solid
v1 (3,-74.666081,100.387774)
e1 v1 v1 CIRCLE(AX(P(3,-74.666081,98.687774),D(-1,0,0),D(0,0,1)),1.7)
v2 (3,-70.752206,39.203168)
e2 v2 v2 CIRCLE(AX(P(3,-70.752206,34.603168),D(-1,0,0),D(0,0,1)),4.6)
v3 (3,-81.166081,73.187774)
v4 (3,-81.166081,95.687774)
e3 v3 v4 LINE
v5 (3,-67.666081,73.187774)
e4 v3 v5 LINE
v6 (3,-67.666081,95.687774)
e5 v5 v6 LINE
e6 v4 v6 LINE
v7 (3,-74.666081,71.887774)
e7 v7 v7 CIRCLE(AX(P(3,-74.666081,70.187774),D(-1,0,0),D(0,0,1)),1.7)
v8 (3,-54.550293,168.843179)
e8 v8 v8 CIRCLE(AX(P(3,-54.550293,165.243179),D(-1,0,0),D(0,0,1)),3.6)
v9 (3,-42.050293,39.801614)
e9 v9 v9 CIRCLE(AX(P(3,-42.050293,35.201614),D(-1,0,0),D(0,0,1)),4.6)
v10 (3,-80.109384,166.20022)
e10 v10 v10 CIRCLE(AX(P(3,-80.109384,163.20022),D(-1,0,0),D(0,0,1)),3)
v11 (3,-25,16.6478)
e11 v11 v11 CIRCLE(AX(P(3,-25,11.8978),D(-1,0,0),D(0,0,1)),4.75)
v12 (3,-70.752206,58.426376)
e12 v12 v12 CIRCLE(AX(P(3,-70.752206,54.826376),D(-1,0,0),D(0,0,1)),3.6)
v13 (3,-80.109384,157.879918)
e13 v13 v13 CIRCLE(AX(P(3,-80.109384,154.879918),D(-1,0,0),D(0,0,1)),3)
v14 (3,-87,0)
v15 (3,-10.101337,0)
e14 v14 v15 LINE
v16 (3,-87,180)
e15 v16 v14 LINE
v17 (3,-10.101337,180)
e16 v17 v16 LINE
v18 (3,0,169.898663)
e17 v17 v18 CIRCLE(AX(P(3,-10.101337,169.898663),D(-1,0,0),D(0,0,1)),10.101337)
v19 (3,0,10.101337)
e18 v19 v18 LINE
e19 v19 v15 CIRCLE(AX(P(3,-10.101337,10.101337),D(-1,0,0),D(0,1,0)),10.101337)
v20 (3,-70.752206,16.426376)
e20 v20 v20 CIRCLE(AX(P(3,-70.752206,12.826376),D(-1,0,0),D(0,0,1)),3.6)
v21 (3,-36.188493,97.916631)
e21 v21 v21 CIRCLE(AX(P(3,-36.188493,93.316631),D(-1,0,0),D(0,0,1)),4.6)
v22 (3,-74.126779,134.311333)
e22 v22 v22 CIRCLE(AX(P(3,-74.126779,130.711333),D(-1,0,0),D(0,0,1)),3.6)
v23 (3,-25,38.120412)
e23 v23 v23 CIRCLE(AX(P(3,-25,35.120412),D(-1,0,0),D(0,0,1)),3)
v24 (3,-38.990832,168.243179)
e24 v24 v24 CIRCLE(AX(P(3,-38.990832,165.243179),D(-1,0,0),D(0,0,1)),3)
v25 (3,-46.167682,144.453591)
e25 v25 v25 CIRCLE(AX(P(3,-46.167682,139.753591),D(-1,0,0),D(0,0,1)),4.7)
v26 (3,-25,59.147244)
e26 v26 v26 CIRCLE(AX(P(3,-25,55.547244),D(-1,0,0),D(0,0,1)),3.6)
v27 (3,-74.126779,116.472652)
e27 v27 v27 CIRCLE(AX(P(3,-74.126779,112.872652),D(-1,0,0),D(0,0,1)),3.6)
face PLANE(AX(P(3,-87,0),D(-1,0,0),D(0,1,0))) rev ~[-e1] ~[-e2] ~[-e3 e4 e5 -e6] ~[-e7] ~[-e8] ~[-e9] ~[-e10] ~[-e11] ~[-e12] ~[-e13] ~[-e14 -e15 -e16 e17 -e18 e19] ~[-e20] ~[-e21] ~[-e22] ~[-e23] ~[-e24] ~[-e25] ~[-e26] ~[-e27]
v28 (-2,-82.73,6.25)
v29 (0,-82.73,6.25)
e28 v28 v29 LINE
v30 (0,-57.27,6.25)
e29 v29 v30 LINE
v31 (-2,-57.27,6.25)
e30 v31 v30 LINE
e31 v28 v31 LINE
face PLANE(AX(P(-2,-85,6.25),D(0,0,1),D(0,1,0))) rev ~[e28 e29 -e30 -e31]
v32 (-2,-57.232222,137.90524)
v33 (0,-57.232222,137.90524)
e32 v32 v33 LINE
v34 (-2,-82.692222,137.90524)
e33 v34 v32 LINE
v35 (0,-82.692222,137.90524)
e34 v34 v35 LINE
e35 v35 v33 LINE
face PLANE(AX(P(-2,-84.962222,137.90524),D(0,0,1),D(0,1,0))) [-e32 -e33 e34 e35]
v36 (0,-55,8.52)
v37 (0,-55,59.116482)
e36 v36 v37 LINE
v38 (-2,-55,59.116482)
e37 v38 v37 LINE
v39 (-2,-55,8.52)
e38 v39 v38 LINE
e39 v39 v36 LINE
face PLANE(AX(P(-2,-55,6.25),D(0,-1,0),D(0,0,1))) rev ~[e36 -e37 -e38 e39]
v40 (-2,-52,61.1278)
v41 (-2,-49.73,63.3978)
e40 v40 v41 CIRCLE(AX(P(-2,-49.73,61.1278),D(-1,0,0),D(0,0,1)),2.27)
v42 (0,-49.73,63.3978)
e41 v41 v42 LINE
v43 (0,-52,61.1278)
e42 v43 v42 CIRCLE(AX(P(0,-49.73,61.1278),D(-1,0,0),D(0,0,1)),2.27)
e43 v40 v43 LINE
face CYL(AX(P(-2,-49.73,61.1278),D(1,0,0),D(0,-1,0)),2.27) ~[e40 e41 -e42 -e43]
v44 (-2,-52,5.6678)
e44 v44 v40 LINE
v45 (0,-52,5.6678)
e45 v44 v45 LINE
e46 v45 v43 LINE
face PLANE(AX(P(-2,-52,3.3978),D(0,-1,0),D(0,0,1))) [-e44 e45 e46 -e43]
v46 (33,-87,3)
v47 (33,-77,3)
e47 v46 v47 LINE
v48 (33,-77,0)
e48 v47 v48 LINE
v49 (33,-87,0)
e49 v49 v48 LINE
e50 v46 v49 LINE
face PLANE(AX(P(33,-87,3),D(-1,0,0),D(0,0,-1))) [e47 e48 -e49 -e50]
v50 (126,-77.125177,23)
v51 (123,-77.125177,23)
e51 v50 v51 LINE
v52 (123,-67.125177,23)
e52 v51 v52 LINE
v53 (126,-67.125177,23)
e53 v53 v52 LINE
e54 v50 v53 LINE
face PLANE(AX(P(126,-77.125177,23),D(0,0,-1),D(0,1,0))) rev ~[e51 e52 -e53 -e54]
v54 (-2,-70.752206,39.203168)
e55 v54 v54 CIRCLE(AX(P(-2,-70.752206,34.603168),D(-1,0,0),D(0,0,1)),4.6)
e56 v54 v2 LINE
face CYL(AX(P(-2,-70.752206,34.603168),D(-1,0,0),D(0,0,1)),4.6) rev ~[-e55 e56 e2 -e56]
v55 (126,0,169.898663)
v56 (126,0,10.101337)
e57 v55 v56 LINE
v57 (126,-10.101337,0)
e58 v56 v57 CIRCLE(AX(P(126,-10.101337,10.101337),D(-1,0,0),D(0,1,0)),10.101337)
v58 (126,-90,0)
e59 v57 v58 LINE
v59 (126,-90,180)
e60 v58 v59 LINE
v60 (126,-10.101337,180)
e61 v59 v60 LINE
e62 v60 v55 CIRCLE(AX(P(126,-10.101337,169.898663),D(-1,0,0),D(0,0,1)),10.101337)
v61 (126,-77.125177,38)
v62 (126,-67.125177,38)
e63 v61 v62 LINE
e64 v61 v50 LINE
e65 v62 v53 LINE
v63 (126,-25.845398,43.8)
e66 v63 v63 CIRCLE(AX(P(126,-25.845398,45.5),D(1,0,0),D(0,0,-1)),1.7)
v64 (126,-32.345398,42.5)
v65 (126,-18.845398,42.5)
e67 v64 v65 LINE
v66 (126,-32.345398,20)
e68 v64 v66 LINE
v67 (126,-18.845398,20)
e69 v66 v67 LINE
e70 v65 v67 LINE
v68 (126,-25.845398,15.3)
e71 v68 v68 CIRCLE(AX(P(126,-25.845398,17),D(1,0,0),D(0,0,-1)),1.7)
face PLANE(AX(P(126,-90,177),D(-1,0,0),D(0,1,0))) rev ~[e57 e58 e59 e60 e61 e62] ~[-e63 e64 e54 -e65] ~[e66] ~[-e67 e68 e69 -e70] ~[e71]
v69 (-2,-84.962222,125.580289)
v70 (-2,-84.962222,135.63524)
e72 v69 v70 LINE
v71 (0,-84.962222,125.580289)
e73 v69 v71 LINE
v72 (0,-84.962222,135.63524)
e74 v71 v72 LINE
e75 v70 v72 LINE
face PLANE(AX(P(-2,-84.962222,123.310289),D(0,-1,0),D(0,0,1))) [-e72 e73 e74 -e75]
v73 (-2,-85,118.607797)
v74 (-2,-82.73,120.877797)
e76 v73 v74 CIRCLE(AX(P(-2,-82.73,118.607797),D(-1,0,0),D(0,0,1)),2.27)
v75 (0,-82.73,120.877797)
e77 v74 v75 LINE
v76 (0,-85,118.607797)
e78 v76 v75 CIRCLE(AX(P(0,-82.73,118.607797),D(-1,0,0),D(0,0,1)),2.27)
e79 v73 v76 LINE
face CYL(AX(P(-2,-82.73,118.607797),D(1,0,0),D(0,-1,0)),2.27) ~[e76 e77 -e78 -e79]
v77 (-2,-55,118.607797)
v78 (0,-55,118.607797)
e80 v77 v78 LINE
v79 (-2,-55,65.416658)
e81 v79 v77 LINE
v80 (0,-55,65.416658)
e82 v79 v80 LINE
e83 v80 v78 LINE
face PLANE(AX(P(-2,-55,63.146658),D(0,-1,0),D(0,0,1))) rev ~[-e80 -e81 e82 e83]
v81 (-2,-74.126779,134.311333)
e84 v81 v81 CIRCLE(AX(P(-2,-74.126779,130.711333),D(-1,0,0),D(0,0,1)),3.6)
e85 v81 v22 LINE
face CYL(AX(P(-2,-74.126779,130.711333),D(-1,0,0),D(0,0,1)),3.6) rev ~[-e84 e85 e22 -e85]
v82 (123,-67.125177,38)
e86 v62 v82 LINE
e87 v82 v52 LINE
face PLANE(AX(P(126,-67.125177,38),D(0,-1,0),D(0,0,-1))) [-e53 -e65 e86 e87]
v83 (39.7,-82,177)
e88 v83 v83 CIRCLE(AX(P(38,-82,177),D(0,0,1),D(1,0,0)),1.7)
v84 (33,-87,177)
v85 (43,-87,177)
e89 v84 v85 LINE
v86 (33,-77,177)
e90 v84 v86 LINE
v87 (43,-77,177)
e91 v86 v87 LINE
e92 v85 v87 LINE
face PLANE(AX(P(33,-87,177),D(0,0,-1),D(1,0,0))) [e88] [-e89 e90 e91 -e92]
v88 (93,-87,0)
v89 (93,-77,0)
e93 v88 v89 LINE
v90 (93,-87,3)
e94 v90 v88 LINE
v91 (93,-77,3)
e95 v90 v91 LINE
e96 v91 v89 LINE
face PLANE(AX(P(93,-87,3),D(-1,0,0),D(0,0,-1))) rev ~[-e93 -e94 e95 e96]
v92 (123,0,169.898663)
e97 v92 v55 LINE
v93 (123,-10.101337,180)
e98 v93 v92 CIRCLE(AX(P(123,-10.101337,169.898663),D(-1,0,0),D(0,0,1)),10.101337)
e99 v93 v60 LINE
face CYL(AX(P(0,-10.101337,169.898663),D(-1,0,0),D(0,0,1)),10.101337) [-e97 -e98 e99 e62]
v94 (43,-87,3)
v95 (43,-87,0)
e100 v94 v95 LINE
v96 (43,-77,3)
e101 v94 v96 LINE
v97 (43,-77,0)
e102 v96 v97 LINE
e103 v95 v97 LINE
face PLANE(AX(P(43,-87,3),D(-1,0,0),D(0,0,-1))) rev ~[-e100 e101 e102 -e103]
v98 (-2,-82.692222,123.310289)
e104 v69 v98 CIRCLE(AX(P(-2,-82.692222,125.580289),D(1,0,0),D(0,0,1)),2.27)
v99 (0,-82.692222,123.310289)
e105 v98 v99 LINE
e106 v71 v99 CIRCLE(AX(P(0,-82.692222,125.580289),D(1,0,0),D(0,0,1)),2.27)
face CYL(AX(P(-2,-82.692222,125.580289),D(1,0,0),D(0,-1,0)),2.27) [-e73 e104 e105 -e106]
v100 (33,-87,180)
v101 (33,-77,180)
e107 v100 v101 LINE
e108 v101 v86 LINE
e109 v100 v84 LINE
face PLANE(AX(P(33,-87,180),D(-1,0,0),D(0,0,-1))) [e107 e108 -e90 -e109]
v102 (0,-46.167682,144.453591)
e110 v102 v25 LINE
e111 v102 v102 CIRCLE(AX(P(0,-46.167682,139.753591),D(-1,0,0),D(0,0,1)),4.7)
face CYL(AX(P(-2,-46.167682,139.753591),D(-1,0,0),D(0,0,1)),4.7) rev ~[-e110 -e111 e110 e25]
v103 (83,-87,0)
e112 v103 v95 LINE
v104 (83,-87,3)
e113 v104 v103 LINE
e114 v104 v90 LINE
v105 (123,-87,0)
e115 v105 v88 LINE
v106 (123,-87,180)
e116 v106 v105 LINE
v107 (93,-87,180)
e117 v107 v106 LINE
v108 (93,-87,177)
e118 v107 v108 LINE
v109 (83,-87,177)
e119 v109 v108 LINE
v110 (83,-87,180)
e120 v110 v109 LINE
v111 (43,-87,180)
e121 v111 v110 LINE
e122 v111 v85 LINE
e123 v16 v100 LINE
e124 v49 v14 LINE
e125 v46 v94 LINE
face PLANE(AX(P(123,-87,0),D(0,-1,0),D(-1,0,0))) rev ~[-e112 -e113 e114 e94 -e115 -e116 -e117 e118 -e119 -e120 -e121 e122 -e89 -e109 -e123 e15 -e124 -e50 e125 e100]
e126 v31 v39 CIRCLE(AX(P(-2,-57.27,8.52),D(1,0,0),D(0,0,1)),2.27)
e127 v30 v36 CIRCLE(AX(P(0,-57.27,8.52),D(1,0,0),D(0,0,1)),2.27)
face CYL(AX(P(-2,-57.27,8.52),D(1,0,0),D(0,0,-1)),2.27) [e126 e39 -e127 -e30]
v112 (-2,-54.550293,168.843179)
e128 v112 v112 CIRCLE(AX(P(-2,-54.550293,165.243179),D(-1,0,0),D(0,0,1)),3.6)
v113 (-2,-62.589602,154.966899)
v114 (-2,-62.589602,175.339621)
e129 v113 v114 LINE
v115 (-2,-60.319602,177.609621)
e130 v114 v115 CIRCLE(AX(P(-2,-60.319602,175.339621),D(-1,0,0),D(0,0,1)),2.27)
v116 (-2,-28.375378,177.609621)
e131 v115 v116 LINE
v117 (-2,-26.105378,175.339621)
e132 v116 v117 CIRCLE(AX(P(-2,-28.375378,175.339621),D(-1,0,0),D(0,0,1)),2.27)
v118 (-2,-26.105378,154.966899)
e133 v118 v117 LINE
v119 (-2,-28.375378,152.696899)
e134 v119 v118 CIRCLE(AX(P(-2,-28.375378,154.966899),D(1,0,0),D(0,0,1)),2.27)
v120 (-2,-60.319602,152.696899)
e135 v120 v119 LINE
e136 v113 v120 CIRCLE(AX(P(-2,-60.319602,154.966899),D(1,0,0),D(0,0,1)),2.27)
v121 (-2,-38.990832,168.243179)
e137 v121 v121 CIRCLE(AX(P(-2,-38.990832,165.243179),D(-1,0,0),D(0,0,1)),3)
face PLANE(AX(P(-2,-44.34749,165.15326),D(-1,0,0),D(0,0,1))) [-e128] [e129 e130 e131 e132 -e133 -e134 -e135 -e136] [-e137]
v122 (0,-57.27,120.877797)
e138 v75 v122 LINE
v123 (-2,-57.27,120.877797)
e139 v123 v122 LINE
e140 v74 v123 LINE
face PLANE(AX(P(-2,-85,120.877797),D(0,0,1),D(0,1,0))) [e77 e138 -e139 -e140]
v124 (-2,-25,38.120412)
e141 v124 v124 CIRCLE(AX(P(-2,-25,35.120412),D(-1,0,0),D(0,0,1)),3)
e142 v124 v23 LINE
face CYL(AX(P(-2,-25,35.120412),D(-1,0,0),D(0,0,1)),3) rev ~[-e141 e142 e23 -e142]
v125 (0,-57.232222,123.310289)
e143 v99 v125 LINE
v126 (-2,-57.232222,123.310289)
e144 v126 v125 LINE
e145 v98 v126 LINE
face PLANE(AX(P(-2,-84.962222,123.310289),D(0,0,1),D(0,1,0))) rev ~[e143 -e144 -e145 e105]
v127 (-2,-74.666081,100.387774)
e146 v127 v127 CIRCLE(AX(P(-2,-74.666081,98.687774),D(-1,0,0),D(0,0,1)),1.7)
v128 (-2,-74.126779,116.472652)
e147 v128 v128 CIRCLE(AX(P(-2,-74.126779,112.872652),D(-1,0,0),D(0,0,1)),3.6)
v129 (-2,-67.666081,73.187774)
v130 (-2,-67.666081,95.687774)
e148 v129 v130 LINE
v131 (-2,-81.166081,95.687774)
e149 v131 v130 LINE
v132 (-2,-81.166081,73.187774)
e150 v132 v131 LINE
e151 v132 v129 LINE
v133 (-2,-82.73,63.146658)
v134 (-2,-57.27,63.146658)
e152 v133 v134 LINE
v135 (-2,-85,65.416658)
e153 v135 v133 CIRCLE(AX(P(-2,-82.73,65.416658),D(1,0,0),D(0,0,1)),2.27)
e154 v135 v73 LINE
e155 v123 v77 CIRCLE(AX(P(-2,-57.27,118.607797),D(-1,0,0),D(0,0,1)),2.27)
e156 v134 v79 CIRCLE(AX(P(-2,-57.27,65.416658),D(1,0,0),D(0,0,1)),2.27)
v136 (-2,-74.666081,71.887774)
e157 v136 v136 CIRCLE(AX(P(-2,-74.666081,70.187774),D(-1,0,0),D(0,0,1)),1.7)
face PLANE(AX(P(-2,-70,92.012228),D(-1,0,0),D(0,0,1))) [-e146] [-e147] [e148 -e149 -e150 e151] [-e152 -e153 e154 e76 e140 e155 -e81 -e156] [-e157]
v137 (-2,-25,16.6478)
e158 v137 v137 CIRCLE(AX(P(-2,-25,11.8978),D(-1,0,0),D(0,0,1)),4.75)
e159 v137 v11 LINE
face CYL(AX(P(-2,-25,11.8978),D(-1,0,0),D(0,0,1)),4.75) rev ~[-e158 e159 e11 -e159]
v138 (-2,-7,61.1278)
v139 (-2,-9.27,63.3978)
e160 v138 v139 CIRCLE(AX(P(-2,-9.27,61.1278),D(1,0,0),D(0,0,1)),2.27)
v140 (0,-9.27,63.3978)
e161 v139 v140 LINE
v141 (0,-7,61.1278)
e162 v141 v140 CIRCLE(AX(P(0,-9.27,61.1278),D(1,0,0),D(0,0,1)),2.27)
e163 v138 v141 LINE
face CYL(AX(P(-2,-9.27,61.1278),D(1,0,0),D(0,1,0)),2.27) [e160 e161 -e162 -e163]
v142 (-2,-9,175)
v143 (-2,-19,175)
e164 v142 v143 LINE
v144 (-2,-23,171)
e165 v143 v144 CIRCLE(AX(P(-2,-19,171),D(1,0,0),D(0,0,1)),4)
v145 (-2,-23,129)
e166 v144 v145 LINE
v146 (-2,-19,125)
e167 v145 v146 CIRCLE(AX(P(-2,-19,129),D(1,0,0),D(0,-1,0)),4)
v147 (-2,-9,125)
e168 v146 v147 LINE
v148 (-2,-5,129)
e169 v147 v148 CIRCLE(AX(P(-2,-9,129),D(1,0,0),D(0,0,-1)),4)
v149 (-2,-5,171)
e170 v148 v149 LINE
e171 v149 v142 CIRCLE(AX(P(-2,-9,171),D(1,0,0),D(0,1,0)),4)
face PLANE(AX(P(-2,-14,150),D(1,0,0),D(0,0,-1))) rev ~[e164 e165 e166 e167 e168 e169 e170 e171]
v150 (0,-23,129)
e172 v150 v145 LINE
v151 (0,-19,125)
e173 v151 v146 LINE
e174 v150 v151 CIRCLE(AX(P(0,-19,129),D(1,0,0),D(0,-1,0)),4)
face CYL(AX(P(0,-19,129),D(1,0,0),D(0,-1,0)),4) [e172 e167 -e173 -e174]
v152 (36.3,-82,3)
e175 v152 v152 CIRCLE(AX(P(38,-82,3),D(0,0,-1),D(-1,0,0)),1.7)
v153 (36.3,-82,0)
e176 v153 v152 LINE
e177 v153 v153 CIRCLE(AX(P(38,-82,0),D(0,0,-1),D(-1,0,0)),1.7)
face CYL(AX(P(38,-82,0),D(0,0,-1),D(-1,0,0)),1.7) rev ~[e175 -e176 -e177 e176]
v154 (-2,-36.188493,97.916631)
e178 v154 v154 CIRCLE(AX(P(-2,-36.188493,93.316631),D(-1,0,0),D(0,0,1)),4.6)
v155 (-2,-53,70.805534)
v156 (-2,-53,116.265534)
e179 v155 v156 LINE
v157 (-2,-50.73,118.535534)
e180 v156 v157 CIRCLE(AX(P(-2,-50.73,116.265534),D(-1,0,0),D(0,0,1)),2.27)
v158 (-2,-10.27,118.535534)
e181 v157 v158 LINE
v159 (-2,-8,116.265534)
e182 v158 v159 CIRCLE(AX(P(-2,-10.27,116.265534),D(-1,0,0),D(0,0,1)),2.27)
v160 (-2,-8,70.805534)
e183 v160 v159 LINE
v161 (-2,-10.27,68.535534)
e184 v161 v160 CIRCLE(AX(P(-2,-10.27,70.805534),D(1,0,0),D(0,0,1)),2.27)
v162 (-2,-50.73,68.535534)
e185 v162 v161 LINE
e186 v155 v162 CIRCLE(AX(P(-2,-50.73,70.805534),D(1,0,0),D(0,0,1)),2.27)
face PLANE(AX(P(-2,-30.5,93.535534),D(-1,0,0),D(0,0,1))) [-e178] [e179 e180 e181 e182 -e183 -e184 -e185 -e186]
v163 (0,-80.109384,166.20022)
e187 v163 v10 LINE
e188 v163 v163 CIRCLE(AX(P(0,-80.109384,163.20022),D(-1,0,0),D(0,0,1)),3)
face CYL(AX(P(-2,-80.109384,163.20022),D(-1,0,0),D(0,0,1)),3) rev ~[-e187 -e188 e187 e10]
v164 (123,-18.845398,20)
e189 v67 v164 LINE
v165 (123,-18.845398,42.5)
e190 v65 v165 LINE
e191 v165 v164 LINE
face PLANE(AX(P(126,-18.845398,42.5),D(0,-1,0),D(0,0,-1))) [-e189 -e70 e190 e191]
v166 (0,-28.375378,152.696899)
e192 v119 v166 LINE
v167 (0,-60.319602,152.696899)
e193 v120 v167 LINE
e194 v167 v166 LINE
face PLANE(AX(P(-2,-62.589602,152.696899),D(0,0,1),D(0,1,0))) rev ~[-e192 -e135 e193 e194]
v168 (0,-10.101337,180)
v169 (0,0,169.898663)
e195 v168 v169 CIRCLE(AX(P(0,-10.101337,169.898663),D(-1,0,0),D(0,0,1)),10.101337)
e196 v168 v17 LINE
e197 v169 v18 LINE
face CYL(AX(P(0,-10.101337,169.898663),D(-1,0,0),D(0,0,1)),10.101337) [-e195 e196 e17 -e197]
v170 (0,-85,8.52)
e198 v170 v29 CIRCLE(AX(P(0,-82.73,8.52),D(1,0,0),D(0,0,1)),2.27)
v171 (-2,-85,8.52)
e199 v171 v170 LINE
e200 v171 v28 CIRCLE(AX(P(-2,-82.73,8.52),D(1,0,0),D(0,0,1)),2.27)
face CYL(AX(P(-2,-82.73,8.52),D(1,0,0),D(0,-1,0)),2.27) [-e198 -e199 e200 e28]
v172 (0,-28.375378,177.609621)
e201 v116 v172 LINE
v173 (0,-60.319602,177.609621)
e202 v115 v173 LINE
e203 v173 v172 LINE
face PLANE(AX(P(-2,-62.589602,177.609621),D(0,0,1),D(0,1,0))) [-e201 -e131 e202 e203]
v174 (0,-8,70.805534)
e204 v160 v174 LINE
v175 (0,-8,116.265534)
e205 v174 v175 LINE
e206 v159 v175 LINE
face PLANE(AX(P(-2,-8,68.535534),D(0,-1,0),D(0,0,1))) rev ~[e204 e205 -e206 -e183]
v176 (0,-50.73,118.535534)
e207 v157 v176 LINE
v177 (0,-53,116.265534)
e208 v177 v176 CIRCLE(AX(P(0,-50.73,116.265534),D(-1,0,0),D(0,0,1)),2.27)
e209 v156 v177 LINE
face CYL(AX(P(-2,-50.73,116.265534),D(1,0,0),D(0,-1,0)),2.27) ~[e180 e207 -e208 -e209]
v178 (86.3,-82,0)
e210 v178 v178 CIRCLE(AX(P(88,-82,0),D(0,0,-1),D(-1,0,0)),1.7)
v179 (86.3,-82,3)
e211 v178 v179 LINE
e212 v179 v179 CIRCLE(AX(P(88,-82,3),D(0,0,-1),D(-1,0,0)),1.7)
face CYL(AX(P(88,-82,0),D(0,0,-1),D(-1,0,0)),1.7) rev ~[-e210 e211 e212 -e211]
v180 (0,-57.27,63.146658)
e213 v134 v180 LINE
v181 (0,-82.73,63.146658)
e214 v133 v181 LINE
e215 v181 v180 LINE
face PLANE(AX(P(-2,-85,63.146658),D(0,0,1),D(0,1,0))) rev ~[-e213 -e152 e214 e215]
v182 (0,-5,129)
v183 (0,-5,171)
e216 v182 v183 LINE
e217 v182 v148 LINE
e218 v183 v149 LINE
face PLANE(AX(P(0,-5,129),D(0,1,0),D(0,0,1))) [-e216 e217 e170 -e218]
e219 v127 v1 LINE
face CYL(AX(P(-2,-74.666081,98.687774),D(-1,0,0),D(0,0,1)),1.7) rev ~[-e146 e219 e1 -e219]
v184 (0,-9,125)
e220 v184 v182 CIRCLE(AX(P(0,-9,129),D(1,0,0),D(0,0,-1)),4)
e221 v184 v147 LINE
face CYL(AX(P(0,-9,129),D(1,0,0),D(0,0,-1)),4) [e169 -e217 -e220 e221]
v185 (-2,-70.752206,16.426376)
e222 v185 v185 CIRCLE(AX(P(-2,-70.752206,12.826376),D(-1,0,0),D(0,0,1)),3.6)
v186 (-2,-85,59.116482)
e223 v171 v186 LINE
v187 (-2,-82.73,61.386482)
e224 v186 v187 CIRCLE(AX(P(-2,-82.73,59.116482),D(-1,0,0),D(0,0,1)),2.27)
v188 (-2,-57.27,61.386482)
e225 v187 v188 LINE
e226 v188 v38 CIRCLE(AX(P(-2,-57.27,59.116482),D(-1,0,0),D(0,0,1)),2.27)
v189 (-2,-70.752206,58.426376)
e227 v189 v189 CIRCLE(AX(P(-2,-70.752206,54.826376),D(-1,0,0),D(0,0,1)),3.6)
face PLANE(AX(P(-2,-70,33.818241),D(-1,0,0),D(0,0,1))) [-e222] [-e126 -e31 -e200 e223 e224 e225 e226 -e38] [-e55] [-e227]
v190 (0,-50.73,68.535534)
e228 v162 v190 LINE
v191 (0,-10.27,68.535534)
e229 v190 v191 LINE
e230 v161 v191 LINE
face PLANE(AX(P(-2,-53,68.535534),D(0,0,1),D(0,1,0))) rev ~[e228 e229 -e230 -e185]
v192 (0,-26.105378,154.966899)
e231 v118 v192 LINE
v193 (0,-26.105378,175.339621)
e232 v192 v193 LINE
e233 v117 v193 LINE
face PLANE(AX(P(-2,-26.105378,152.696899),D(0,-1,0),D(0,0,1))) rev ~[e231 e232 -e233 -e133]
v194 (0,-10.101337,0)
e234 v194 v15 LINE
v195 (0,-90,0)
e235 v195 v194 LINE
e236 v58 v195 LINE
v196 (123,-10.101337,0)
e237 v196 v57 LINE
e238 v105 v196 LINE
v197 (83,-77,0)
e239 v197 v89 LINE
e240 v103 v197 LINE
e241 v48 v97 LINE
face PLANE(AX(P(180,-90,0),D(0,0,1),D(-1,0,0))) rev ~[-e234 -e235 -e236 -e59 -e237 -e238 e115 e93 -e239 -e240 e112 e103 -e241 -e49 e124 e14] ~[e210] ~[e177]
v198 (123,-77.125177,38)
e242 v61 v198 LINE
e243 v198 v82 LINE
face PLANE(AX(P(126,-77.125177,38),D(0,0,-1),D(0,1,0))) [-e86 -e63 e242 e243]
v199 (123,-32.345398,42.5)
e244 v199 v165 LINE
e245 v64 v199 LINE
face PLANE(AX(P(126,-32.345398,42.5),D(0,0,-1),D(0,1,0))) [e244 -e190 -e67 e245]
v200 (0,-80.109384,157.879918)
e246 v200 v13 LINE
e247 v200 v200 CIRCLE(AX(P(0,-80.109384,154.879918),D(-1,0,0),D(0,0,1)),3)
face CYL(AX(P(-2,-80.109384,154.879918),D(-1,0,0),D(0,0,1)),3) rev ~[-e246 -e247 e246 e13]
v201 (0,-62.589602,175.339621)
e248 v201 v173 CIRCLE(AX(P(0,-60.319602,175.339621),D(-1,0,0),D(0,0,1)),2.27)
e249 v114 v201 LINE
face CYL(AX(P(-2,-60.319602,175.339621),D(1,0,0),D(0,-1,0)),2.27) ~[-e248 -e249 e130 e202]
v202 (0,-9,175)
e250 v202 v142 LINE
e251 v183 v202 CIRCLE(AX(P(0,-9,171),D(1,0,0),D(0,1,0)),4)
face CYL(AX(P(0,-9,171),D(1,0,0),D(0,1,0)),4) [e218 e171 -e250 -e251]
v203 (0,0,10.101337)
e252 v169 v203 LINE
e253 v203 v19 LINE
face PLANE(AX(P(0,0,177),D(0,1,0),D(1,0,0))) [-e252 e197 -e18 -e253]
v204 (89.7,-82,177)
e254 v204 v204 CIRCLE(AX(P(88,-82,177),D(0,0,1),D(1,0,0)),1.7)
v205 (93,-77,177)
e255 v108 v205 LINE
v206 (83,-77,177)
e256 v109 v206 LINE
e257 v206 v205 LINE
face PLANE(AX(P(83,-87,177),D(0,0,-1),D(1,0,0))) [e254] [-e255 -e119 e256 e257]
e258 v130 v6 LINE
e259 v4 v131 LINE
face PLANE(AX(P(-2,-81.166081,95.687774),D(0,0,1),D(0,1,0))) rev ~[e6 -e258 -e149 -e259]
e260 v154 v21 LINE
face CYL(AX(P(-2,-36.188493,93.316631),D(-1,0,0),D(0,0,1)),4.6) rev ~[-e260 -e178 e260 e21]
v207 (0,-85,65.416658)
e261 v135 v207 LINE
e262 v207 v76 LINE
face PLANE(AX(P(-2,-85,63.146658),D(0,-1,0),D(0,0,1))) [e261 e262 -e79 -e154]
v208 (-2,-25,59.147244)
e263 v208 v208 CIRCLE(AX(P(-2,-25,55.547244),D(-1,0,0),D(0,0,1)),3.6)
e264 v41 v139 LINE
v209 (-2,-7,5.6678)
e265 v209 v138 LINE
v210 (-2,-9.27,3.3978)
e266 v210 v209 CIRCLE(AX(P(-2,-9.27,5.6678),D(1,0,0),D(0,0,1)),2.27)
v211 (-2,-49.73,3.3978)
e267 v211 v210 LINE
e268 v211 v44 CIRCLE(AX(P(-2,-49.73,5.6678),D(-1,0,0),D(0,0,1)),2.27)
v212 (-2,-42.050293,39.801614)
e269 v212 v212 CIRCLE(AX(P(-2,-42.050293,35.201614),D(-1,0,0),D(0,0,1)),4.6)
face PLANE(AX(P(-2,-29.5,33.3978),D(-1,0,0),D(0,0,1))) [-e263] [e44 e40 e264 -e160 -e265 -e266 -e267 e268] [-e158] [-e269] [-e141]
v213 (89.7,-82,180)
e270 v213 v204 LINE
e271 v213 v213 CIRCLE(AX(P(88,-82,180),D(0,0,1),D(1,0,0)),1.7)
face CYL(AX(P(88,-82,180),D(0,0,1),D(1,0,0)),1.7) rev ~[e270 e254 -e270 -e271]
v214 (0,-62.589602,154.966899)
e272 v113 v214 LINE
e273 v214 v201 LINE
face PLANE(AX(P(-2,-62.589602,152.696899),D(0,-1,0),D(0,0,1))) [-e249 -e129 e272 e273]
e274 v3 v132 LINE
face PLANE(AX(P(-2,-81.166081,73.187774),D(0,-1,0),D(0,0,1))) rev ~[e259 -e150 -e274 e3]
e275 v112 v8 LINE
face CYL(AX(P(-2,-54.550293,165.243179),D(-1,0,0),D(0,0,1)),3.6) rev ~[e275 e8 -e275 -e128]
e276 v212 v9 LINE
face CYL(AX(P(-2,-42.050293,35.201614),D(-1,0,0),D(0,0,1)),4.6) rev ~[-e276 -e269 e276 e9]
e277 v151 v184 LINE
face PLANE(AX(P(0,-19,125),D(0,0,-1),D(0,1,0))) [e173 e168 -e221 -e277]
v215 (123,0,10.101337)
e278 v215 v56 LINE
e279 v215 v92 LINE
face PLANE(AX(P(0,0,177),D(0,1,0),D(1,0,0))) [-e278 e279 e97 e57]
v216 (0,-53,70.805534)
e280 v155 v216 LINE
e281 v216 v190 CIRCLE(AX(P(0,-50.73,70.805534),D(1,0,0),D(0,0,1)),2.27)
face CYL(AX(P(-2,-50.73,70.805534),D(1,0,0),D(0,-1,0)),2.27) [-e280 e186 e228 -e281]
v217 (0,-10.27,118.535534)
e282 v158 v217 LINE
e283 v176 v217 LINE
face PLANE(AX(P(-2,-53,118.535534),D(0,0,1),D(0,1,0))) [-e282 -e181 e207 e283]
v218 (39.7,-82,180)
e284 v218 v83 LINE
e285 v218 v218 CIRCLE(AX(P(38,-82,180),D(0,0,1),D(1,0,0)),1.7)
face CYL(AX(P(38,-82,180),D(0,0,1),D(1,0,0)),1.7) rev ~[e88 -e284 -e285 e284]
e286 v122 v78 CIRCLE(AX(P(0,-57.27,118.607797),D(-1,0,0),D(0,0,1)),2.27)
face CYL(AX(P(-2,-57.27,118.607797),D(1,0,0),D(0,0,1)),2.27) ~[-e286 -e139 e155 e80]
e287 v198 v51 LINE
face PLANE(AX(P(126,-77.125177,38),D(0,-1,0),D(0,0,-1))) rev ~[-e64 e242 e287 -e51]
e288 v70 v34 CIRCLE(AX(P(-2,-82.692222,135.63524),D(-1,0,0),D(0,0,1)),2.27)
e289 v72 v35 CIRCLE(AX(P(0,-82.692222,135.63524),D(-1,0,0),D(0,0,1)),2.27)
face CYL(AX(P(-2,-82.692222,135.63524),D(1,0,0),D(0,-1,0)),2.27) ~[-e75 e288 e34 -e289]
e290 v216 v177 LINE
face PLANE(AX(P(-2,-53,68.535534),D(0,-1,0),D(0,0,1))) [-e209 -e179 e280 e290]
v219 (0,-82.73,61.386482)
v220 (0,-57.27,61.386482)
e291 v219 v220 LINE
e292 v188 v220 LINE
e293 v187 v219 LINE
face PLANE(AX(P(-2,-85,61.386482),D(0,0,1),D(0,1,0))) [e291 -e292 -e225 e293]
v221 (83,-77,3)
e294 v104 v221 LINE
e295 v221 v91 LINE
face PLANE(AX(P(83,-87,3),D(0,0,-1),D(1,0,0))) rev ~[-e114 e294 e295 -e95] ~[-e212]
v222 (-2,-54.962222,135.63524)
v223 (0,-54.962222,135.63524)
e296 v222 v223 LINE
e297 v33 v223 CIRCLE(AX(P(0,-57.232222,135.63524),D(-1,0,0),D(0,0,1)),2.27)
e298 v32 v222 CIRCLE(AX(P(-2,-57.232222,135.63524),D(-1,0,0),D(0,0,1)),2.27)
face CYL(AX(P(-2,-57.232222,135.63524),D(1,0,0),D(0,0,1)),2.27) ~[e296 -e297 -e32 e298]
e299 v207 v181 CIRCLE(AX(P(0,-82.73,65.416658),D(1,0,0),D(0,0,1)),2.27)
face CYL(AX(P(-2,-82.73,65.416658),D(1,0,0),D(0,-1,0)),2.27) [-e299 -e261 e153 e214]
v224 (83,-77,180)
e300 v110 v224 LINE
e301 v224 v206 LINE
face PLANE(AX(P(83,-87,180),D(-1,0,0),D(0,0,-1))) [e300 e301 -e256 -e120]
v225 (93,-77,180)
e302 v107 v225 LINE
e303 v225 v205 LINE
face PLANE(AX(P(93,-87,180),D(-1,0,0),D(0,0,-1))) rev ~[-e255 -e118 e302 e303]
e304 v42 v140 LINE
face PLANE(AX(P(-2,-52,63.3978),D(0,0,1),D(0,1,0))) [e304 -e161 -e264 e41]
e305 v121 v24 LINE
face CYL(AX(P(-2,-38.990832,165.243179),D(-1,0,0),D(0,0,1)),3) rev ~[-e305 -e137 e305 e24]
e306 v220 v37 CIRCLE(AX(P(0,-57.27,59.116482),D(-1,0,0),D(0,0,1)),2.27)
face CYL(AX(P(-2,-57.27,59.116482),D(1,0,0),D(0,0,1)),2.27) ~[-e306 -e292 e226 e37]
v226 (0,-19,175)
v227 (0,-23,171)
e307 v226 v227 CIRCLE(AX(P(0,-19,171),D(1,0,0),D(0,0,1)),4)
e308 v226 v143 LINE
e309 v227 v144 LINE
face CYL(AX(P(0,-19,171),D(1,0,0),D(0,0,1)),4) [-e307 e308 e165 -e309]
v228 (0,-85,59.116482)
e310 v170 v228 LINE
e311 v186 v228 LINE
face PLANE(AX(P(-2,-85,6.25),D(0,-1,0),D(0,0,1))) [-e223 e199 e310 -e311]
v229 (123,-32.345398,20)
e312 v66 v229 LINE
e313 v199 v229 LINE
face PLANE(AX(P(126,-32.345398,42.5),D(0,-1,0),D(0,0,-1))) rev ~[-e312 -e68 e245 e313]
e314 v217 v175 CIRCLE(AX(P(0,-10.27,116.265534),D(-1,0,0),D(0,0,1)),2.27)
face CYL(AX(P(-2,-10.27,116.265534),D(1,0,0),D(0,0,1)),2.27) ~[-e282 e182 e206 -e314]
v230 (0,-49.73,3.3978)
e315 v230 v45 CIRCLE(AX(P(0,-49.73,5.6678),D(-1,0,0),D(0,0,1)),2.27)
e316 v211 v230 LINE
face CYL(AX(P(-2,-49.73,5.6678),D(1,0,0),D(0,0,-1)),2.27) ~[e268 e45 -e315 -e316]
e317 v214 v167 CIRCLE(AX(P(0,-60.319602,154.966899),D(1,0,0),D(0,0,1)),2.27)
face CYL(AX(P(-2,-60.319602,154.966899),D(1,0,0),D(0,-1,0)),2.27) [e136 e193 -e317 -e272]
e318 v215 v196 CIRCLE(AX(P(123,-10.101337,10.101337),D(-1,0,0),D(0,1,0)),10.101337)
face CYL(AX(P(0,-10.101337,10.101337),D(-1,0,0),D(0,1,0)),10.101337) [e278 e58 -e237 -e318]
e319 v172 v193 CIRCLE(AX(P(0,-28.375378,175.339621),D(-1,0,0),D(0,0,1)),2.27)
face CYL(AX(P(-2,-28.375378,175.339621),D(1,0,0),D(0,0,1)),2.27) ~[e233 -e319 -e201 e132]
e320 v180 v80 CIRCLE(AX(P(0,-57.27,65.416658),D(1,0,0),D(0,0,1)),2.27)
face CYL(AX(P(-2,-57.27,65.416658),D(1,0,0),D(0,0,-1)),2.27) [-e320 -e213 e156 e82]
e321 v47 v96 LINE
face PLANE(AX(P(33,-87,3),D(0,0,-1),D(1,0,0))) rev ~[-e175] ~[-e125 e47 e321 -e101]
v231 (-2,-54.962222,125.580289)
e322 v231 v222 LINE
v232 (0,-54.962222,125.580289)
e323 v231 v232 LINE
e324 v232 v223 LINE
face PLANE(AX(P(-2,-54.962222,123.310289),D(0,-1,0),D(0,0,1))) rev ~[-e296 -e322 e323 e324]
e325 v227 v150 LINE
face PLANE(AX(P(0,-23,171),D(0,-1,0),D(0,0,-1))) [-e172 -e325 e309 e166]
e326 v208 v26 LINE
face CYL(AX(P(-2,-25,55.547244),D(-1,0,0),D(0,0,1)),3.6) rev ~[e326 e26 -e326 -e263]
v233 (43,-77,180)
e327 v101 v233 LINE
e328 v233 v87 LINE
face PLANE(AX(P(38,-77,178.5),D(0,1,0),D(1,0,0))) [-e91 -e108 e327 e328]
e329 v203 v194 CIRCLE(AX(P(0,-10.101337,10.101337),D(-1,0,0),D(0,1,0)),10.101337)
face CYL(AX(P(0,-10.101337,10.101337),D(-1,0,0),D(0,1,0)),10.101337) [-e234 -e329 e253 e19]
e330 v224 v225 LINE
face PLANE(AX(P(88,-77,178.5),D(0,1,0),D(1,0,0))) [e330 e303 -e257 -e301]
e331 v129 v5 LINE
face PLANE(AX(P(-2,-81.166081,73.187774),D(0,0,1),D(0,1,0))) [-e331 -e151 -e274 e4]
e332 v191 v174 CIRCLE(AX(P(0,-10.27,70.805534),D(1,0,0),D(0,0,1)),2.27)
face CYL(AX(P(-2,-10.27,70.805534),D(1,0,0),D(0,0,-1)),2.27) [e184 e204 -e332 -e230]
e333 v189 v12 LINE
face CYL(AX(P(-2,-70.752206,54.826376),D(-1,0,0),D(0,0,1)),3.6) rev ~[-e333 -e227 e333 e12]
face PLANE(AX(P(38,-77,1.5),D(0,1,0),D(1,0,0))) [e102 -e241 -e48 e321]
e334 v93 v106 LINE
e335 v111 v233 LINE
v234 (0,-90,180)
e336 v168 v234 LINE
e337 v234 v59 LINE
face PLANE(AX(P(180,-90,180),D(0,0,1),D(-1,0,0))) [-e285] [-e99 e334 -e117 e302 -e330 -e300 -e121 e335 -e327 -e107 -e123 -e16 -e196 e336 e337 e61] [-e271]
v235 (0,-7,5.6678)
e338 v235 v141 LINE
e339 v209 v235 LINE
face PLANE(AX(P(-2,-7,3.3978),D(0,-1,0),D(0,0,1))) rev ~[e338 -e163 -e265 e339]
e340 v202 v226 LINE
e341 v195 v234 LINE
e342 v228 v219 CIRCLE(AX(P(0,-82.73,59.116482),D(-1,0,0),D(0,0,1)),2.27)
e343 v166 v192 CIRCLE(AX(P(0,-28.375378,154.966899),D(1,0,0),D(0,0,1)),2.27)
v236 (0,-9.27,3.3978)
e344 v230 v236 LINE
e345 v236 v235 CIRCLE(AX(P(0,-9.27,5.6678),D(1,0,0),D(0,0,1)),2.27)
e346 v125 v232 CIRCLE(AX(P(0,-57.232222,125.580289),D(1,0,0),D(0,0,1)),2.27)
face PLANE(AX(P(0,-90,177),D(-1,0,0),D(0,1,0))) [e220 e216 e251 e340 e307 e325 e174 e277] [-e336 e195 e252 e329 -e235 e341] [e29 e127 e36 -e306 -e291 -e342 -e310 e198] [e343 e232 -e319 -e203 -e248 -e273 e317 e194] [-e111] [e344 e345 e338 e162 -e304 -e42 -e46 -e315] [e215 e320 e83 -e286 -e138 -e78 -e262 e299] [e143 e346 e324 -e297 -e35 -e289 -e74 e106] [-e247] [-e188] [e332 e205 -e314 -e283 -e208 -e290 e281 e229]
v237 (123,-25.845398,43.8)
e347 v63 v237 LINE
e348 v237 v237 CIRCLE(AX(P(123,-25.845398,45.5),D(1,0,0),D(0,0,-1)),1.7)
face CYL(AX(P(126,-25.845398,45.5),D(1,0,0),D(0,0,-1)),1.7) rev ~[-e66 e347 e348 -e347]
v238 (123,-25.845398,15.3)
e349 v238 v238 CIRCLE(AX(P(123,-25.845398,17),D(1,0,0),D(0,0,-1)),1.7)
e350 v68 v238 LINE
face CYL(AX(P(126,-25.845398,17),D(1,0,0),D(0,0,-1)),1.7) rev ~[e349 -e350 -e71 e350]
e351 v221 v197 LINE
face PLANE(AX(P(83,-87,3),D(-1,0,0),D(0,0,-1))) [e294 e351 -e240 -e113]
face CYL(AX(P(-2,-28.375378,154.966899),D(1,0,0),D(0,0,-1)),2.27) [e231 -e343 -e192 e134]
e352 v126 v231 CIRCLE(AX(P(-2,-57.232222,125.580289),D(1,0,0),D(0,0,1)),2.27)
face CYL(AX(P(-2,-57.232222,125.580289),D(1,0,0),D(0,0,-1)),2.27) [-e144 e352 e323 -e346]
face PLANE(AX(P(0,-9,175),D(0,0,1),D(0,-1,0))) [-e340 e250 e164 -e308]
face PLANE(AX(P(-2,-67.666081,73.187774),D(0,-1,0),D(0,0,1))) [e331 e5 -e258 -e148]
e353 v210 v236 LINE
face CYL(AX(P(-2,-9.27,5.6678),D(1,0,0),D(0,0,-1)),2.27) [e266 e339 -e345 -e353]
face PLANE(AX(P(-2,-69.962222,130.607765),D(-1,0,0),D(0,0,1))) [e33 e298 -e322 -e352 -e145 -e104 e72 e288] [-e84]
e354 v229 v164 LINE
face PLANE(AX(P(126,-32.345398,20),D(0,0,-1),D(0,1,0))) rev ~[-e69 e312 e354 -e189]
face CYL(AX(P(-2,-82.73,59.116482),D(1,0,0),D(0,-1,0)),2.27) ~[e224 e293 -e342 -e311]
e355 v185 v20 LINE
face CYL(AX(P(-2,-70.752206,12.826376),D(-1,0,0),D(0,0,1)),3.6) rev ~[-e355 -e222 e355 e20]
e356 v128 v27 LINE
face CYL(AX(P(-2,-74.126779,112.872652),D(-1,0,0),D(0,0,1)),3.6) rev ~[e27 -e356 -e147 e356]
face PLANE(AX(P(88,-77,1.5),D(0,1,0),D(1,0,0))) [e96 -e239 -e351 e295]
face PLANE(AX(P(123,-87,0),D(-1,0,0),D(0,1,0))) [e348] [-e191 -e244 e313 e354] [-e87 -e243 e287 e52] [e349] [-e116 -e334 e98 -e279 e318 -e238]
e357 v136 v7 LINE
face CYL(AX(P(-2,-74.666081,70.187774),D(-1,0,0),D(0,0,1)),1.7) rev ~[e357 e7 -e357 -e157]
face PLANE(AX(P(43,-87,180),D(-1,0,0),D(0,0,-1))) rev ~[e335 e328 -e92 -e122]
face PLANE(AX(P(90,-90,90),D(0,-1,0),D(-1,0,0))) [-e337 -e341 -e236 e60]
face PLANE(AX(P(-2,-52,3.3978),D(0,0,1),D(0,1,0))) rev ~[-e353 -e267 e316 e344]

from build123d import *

# Parameters (mm, degrees)
SKETCH1_W           = 126
SKETCH1_H           = 90
BOSS_EXTRUDE1_DEPTH = 3
BOSS_EXTRUDE2_DEPTH = 177
SKETCH3_W           = 126
SKETCH3_H           = 90
BOSS_EXTRUDE3_DEPTH = 3
FILLET1_R           = 10
SKETCH5_R           = 3
CUT_EXTRUDE1_DEPTH  = 5
SKETCH6_W           = 22.5
SKETCH6_H           = 13.5
SKETCH6_W_2         = 15
SKETCH6_H_2         = 10
CUT_EXTRUDE2_DEPTH  = 3
SKETCH7_W           = 180
SKETCH7_H           = 180
BOSS_EXTRUDE5_DEPTH = 3
SKETCH8_OUTSIDE_W   = 236
SKETCH8_OUTSIDE_H   = 146
CUT_EXTRUDE3_DEPTH  = 181
SKETCH9_W           = 120
SKETCH9_H           = 87
CUT_EXTRUDE4_DEPTH  = 181
SKETCH11_W          = 10
SKETCH11_H          = 3
BOSS_EXTRUDE6_DEPTH = 10
SKETCH12_R          = 1.7
CUT_EXTRUDE5_DEPTH  = 10
SKETCH13_R          = 1.7
CUT_EXTRUDE6_DEPTH  = 10
SKETCH16_W          = 60
SKETCH16_H          = 45
SKETCH16_W_2        = 55.136481679
SKETCH16_H_2        = 30
SKETCH16_W_3        = 50
SKETCH16_W_4        = 57.73113964
SKETCH16_W_5        = 14.594951033
SKETCH16_W_6        = 24.912721932
SKETCH16_H_3        = 36.48422414
BOSS_EXTRUDE7_DEPTH = 5
SKETCH15_R          = 4.75
SKETCH15_R_2        = 3
SKETCH15_R_3        = 3.6
SKETCH15_R_4        = 4.6
SKETCH15_R_5        = 4.7
SKETCH15_W          = 22.5
SKETCH15_H          = 13.5
CUT_EXTRUDE7_DEPTH  = 7.5
FILLET3_R           = 2.27
SKETCH17_W          = 54
SKETCH17_H          = 180
CUT_EXTRUDE8_DEPTH  = 10
BOSS_EXTRUDE8_DEPTH = 2
SKETCH19_R          = 1.7
CUT_EXTRUDE9_DEPTH  = 12
SKETCH20_R          = 1.7
CUT_EXTRUDE10_DEPTH = 12


with BuildPart() as part:
    # Sketch1 → Boss-Extrude1 (new body)
    with BuildSketch(Plane.XY):
        with Locations((63, -45)):
            Rectangle(SKETCH1_W, SKETCH1_H)
    extrude(amount=BOSS_EXTRUDE1_DEPTH)

    # Sketch2 → Boss-Extrude2 (add)
    with BuildSketch(Plane(origin=(0, 0, 0), x_dir=(-1, 0, 0), z_dir=(0, 0, -1))):
        Polygon((-126, -90), (-126, 0), (0, 0), (0, -90), (-3, -90), (-3, -3), (-123, -3), (-123, -90), align=None)
    extrude(amount=-BOSS_EXTRUDE2_DEPTH)

    # Sketch3 → Boss-Extrude3 (add)
    with BuildSketch(Plane.XY.offset(177)):
        with Locations((63, -45)):
            Rectangle(SKETCH3_W, SKETCH3_H)
    extrude(amount=BOSS_EXTRUDE3_DEPTH)

    # Fillet1
    fillet1_edges = [part.edges().sort_by_distance(p)[0] for p in [
        (63, -3, 3),
        (63, -3, 177),
        (63, 0, 0),
        (63, 0, 180),
    ]]
    fillet(fillet1_edges, radius=FILLET1_R)

    # Sketch5 → Cut-Extrude1 (cut)
    with BuildSketch(Plane.ZY.offset(2)):
        with Locations((154.879918412, -80.109384213)):
            Circle(SKETCH5_R)
        with Locations((163.20022023, -80.109384213)):
            Circle(SKETCH5_R)
    extrude(amount=-CUT_EXTRUDE1_DEPTH, mode=Mode.SUBTRACT)

    # Sketch6 → Cut-Extrude2 (cut)
    with BuildSketch(Plane(origin=(126, 0, 0), x_dir=(0, 0, -1), z_dir=(1, 0, 0))):
        with Locations((-31.25, -25.595398102)):
            Rectangle(SKETCH6_W, SKETCH6_H)
        with Locations((-30.5, -72.125177246)):
            Rectangle(SKETCH6_W_2, SKETCH6_H_2)
    extrude(amount=-CUT_EXTRUDE2_DEPTH, mode=Mode.SUBTRACT)

    # Sketch7 → Boss-Extrude5 (add)
    with BuildSketch(Plane(origin=(0, -90, 0), x_dir=(-1, 0, 0), z_dir=(0, -1, 0))):
        with Locations((-90, -90)):
            Rectangle(SKETCH7_W, SKETCH7_H)
    extrude(amount=-BOSS_EXTRUDE5_DEPTH)

    # Sketch8 outside → Cut-Extrude3 (cut, through all)
    with BuildSketch(Plane.ZY):
        with Locations((90, -45)):
            Rectangle(SKETCH8_OUTSIDE_W, SKETCH8_OUTSIDE_H)
        with BuildLine():
            Line((0, -79.898662722), (0, -90))
            Line((0, -90), (10.101337278, -90))
            Line((10.101337278, -90), (169.898662722, -90))
            Line((169.898662722, -90), (180, -90))
            Line((180, -90), (180, -79.898662722))
            Line((180, -79.898662722), (180, -10.101337278))
            ThreePointArc((180, -10.101337278), (177.04138681, -2.95861319), (169.898662722, 0))
            Line((169.898662722, 0), (10.101337278, 0))
            ThreePointArc((10.101337278, 0), (2.95861319, -2.95861319), (0, -10.101337278))
            Line((0, -10.101337278), (0, -79.898662722))
        make_face(mode=Mode.SUBTRACT)
    extrude(amount=-CUT_EXTRUDE3_DEPTH, mode=Mode.SUBTRACT)

    # Sketch9 → Cut-Extrude4 (cut, through all)
    with BuildSketch(Plane(origin=(0, 0, 0), x_dir=(-1, 0, 0), z_dir=(0, 0, -1))):
        with Locations((-63, -43.5)):
            Rectangle(SKETCH9_W, SKETCH9_H)
    extrude(amount=-CUT_EXTRUDE4_DEPTH, mode=Mode.SUBTRACT)

    # Sketch11 → Boss-Extrude6 (add)
    with BuildSketch(Plane(origin=(0, -87, 0), x_dir=(1, 0, 0), z_dir=(0, 1, 0))):
        with Locations((38, -178.5)):
            Rectangle(SKETCH11_W, SKETCH11_H)
        with Locations((88, -178.5)):
            Rectangle(SKETCH11_W, SKETCH11_H)
        with Locations((38, -1.5)):
            Rectangle(SKETCH11_W, SKETCH11_H)
        with Locations((88, -1.5)):
            Rectangle(SKETCH11_W, SKETCH11_H)
    extrude(amount=BOSS_EXTRUDE6_DEPTH)

    # Sketch12 → Cut-Extrude5 (cut)
    with BuildSketch(Plane(origin=(0, 0, 0), x_dir=(-1, 0, 0), z_dir=(0, 0, -1))):
        with Locations((-88, -82)):
            Circle(SKETCH12_R)
        with Locations((-38, -82)):
            Circle(SKETCH12_R)
    extrude(amount=-CUT_EXTRUDE5_DEPTH, mode=Mode.SUBTRACT)

    # Sketch13 → Cut-Extrude6 (cut)
    with BuildSketch(Plane.XY.offset(180)):
        with Locations((38, -82)):
            Circle(SKETCH13_R)
        with Locations((88, -82)):
            Circle(SKETCH13_R)
    extrude(amount=-CUT_EXTRUDE6_DEPTH, mode=Mode.SUBTRACT)

    # Sketch16 → Boss-Extrude7 (add)
    with BuildSketch(Plane.ZY.offset(2)):
        with Locations((33.397799687, -29.5)):
            Rectangle(SKETCH16_W, SKETCH16_H)
        with Locations((33.81824084, -70)):
            Rectangle(SKETCH16_W_2, SKETCH16_H_2)
        with Locations((93.535533906, -30.5)):
            Rectangle(SKETCH16_W_3, SKETCH16_H)
        with Locations((92.012227586, -70)):
            Rectangle(SKETCH16_W_4, SKETCH16_H_2)
        with Locations((130.607764761, -69.962221636)):
            Rectangle(SKETCH16_W_5, SKETCH16_H_2)
        with Locations((165.153259598, -44.347490411)):
            Rectangle(SKETCH16_W_6, SKETCH16_H_3)
    extrude(amount=-BOSS_EXTRUDE7_DEPTH)

    # Sketch15 → Cut-Extrude7 (cut, symmetric)
    with BuildSketch(Plane.ZY.offset(2)):
        with Locations((11.897799687, -25)):
            Circle(SKETCH15_R)
        with Locations((35.120412136, -25)):
            Circle(SKETCH15_R_2)
        with Locations((55.547244011, -25)):
            Circle(SKETCH15_R_3)
        with Locations((93.316630751, -36.188493445)):
            Circle(SKETCH15_R_4)
        with Locations((12.826376296, -70.752206375)):
            Circle(SKETCH15_R_3)
        with Locations((54.826376296, -70.752206375)):
            Circle(SKETCH15_R_3)
        with Locations((34.603168291, -70.752206375)):
            Circle(SKETCH15_R_4)
        with Locations((35.201614473, -42.050293137)):
            Circle(SKETCH15_R_4)
        with Locations((112.872652377, -74.126778902)):
            Circle(SKETCH15_R_3)
        with Locations((130.71133323, -74.126778902)):
            Circle(SKETCH15_R_3)
        with Locations((139.753590628, -46.167682179)):
            Circle(SKETCH15_R_5)
        with Locations((165.243179484, -54.550293137)):
            Circle(SKETCH15_R_3)
        with Locations((165.243179484, -38.990832132)):
            Circle(SKETCH15_R_2)
        with Locations((84.43777437, -74.416080578)):
            Rectangle(SKETCH15_W, SKETCH15_H)
    extrude(amount=CUT_EXTRUDE7_DEPTH, both=True, mode=Mode.SUBTRACT)

    # Fillet3
    fillet3_edges = [part.edges().sort_by_distance(p)[0] for p in [
        (-1, -52, 3.397799687),
        (-1, -7, 3.397799687),
        (-1, -7, 63.397799687),
        (-1, -52, 63.397799687),
        (-1, -85, 6.25),
        (-1, -55, 6.25),
        (-1, -55, 61.386481679),
        (-1, -85, 61.386481679),
        (-1, -53, 68.535533906),
        (-1, -8, 68.535533906),
        (-1, -8, 118.535533906),
        (-1, -53, 118.535533906),
        (-1, -85, 63.146657766),
        (-1, -55, 63.146657766),
        (-1, -55, 120.877797406),
        (-1, -85, 120.877797406),
        (-1, -84.962221636, 123.310289245),
        (-1, -54.962221636, 123.310289245),
        (-1, -54.962221636, 137.905240278),
        (-1, -84.962221636, 137.905240278),
        (-1, -62.589602481, 152.696898632),
        (-1, -26.105378341, 152.696898632),
        (-1, -26.105378341, 177.609620564),
        (-1, -62.589602481, 177.609620564),
    ]]
    fillet(fillet3_edges, radius=FILLET3_R)

    # Sketch17 → Cut-Extrude8 (cut)
    with BuildSketch(Plane(origin=(0, -87, 0), x_dir=(1, 0, 0), z_dir=(0, 1, 0))):
        with Locations((153, -90)):
            Rectangle(SKETCH17_W, SKETCH17_H)
    extrude(amount=-CUT_EXTRUDE8_DEPTH, mode=Mode.SUBTRACT)

    # Sketch18 → Boss-Extrude8 (add)
    with BuildSketch(Plane.ZY):
        with BuildLine():
            Line((129, -5), (171, -5))
            ThreePointArc((171, -5), (173.828427125, -6.171572875), (175, -9))
            Line((175, -9), (175, -19))
            ThreePointArc((175, -19), (173.828427125, -21.828427125), (171, -23))
            Line((171, -23), (129, -23))
            ThreePointArc((129, -23), (126.171572875, -21.828427125), (125, -19))
            Line((125, -19), (125, -9))
            ThreePointArc((125, -9), (126.171572875, -6.171572875), (129, -5))
        make_face()
    extrude(amount=BOSS_EXTRUDE8_DEPTH)

    # Sketch19 → Cut-Extrude9 (cut)
    with BuildSketch(Plane.ZY.offset(2)):
        with Locations((98.68777437, -74.666080578)):
            Circle(SKETCH19_R)
        with Locations((70.18777437, -74.666080578)):
            Circle(SKETCH19_R)
    extrude(amount=-CUT_EXTRUDE9_DEPTH, mode=Mode.SUBTRACT)

    # Sketch20 → Cut-Extrude10 (cut)
    with BuildSketch(Plane(origin=(126, 0, 0), x_dir=(0, 0, -1), z_dir=(1, 0, 0))):
        with Locations((-17, -25.845398102)):
            Circle(SKETCH20_R)
        with Locations((-45.5, -25.845398102)):
            Circle(SKETCH20_R)
    extrude(amount=-CUT_EXTRUDE10_DEPTH, mode=Mode.SUBTRACT)


solid = part.part
